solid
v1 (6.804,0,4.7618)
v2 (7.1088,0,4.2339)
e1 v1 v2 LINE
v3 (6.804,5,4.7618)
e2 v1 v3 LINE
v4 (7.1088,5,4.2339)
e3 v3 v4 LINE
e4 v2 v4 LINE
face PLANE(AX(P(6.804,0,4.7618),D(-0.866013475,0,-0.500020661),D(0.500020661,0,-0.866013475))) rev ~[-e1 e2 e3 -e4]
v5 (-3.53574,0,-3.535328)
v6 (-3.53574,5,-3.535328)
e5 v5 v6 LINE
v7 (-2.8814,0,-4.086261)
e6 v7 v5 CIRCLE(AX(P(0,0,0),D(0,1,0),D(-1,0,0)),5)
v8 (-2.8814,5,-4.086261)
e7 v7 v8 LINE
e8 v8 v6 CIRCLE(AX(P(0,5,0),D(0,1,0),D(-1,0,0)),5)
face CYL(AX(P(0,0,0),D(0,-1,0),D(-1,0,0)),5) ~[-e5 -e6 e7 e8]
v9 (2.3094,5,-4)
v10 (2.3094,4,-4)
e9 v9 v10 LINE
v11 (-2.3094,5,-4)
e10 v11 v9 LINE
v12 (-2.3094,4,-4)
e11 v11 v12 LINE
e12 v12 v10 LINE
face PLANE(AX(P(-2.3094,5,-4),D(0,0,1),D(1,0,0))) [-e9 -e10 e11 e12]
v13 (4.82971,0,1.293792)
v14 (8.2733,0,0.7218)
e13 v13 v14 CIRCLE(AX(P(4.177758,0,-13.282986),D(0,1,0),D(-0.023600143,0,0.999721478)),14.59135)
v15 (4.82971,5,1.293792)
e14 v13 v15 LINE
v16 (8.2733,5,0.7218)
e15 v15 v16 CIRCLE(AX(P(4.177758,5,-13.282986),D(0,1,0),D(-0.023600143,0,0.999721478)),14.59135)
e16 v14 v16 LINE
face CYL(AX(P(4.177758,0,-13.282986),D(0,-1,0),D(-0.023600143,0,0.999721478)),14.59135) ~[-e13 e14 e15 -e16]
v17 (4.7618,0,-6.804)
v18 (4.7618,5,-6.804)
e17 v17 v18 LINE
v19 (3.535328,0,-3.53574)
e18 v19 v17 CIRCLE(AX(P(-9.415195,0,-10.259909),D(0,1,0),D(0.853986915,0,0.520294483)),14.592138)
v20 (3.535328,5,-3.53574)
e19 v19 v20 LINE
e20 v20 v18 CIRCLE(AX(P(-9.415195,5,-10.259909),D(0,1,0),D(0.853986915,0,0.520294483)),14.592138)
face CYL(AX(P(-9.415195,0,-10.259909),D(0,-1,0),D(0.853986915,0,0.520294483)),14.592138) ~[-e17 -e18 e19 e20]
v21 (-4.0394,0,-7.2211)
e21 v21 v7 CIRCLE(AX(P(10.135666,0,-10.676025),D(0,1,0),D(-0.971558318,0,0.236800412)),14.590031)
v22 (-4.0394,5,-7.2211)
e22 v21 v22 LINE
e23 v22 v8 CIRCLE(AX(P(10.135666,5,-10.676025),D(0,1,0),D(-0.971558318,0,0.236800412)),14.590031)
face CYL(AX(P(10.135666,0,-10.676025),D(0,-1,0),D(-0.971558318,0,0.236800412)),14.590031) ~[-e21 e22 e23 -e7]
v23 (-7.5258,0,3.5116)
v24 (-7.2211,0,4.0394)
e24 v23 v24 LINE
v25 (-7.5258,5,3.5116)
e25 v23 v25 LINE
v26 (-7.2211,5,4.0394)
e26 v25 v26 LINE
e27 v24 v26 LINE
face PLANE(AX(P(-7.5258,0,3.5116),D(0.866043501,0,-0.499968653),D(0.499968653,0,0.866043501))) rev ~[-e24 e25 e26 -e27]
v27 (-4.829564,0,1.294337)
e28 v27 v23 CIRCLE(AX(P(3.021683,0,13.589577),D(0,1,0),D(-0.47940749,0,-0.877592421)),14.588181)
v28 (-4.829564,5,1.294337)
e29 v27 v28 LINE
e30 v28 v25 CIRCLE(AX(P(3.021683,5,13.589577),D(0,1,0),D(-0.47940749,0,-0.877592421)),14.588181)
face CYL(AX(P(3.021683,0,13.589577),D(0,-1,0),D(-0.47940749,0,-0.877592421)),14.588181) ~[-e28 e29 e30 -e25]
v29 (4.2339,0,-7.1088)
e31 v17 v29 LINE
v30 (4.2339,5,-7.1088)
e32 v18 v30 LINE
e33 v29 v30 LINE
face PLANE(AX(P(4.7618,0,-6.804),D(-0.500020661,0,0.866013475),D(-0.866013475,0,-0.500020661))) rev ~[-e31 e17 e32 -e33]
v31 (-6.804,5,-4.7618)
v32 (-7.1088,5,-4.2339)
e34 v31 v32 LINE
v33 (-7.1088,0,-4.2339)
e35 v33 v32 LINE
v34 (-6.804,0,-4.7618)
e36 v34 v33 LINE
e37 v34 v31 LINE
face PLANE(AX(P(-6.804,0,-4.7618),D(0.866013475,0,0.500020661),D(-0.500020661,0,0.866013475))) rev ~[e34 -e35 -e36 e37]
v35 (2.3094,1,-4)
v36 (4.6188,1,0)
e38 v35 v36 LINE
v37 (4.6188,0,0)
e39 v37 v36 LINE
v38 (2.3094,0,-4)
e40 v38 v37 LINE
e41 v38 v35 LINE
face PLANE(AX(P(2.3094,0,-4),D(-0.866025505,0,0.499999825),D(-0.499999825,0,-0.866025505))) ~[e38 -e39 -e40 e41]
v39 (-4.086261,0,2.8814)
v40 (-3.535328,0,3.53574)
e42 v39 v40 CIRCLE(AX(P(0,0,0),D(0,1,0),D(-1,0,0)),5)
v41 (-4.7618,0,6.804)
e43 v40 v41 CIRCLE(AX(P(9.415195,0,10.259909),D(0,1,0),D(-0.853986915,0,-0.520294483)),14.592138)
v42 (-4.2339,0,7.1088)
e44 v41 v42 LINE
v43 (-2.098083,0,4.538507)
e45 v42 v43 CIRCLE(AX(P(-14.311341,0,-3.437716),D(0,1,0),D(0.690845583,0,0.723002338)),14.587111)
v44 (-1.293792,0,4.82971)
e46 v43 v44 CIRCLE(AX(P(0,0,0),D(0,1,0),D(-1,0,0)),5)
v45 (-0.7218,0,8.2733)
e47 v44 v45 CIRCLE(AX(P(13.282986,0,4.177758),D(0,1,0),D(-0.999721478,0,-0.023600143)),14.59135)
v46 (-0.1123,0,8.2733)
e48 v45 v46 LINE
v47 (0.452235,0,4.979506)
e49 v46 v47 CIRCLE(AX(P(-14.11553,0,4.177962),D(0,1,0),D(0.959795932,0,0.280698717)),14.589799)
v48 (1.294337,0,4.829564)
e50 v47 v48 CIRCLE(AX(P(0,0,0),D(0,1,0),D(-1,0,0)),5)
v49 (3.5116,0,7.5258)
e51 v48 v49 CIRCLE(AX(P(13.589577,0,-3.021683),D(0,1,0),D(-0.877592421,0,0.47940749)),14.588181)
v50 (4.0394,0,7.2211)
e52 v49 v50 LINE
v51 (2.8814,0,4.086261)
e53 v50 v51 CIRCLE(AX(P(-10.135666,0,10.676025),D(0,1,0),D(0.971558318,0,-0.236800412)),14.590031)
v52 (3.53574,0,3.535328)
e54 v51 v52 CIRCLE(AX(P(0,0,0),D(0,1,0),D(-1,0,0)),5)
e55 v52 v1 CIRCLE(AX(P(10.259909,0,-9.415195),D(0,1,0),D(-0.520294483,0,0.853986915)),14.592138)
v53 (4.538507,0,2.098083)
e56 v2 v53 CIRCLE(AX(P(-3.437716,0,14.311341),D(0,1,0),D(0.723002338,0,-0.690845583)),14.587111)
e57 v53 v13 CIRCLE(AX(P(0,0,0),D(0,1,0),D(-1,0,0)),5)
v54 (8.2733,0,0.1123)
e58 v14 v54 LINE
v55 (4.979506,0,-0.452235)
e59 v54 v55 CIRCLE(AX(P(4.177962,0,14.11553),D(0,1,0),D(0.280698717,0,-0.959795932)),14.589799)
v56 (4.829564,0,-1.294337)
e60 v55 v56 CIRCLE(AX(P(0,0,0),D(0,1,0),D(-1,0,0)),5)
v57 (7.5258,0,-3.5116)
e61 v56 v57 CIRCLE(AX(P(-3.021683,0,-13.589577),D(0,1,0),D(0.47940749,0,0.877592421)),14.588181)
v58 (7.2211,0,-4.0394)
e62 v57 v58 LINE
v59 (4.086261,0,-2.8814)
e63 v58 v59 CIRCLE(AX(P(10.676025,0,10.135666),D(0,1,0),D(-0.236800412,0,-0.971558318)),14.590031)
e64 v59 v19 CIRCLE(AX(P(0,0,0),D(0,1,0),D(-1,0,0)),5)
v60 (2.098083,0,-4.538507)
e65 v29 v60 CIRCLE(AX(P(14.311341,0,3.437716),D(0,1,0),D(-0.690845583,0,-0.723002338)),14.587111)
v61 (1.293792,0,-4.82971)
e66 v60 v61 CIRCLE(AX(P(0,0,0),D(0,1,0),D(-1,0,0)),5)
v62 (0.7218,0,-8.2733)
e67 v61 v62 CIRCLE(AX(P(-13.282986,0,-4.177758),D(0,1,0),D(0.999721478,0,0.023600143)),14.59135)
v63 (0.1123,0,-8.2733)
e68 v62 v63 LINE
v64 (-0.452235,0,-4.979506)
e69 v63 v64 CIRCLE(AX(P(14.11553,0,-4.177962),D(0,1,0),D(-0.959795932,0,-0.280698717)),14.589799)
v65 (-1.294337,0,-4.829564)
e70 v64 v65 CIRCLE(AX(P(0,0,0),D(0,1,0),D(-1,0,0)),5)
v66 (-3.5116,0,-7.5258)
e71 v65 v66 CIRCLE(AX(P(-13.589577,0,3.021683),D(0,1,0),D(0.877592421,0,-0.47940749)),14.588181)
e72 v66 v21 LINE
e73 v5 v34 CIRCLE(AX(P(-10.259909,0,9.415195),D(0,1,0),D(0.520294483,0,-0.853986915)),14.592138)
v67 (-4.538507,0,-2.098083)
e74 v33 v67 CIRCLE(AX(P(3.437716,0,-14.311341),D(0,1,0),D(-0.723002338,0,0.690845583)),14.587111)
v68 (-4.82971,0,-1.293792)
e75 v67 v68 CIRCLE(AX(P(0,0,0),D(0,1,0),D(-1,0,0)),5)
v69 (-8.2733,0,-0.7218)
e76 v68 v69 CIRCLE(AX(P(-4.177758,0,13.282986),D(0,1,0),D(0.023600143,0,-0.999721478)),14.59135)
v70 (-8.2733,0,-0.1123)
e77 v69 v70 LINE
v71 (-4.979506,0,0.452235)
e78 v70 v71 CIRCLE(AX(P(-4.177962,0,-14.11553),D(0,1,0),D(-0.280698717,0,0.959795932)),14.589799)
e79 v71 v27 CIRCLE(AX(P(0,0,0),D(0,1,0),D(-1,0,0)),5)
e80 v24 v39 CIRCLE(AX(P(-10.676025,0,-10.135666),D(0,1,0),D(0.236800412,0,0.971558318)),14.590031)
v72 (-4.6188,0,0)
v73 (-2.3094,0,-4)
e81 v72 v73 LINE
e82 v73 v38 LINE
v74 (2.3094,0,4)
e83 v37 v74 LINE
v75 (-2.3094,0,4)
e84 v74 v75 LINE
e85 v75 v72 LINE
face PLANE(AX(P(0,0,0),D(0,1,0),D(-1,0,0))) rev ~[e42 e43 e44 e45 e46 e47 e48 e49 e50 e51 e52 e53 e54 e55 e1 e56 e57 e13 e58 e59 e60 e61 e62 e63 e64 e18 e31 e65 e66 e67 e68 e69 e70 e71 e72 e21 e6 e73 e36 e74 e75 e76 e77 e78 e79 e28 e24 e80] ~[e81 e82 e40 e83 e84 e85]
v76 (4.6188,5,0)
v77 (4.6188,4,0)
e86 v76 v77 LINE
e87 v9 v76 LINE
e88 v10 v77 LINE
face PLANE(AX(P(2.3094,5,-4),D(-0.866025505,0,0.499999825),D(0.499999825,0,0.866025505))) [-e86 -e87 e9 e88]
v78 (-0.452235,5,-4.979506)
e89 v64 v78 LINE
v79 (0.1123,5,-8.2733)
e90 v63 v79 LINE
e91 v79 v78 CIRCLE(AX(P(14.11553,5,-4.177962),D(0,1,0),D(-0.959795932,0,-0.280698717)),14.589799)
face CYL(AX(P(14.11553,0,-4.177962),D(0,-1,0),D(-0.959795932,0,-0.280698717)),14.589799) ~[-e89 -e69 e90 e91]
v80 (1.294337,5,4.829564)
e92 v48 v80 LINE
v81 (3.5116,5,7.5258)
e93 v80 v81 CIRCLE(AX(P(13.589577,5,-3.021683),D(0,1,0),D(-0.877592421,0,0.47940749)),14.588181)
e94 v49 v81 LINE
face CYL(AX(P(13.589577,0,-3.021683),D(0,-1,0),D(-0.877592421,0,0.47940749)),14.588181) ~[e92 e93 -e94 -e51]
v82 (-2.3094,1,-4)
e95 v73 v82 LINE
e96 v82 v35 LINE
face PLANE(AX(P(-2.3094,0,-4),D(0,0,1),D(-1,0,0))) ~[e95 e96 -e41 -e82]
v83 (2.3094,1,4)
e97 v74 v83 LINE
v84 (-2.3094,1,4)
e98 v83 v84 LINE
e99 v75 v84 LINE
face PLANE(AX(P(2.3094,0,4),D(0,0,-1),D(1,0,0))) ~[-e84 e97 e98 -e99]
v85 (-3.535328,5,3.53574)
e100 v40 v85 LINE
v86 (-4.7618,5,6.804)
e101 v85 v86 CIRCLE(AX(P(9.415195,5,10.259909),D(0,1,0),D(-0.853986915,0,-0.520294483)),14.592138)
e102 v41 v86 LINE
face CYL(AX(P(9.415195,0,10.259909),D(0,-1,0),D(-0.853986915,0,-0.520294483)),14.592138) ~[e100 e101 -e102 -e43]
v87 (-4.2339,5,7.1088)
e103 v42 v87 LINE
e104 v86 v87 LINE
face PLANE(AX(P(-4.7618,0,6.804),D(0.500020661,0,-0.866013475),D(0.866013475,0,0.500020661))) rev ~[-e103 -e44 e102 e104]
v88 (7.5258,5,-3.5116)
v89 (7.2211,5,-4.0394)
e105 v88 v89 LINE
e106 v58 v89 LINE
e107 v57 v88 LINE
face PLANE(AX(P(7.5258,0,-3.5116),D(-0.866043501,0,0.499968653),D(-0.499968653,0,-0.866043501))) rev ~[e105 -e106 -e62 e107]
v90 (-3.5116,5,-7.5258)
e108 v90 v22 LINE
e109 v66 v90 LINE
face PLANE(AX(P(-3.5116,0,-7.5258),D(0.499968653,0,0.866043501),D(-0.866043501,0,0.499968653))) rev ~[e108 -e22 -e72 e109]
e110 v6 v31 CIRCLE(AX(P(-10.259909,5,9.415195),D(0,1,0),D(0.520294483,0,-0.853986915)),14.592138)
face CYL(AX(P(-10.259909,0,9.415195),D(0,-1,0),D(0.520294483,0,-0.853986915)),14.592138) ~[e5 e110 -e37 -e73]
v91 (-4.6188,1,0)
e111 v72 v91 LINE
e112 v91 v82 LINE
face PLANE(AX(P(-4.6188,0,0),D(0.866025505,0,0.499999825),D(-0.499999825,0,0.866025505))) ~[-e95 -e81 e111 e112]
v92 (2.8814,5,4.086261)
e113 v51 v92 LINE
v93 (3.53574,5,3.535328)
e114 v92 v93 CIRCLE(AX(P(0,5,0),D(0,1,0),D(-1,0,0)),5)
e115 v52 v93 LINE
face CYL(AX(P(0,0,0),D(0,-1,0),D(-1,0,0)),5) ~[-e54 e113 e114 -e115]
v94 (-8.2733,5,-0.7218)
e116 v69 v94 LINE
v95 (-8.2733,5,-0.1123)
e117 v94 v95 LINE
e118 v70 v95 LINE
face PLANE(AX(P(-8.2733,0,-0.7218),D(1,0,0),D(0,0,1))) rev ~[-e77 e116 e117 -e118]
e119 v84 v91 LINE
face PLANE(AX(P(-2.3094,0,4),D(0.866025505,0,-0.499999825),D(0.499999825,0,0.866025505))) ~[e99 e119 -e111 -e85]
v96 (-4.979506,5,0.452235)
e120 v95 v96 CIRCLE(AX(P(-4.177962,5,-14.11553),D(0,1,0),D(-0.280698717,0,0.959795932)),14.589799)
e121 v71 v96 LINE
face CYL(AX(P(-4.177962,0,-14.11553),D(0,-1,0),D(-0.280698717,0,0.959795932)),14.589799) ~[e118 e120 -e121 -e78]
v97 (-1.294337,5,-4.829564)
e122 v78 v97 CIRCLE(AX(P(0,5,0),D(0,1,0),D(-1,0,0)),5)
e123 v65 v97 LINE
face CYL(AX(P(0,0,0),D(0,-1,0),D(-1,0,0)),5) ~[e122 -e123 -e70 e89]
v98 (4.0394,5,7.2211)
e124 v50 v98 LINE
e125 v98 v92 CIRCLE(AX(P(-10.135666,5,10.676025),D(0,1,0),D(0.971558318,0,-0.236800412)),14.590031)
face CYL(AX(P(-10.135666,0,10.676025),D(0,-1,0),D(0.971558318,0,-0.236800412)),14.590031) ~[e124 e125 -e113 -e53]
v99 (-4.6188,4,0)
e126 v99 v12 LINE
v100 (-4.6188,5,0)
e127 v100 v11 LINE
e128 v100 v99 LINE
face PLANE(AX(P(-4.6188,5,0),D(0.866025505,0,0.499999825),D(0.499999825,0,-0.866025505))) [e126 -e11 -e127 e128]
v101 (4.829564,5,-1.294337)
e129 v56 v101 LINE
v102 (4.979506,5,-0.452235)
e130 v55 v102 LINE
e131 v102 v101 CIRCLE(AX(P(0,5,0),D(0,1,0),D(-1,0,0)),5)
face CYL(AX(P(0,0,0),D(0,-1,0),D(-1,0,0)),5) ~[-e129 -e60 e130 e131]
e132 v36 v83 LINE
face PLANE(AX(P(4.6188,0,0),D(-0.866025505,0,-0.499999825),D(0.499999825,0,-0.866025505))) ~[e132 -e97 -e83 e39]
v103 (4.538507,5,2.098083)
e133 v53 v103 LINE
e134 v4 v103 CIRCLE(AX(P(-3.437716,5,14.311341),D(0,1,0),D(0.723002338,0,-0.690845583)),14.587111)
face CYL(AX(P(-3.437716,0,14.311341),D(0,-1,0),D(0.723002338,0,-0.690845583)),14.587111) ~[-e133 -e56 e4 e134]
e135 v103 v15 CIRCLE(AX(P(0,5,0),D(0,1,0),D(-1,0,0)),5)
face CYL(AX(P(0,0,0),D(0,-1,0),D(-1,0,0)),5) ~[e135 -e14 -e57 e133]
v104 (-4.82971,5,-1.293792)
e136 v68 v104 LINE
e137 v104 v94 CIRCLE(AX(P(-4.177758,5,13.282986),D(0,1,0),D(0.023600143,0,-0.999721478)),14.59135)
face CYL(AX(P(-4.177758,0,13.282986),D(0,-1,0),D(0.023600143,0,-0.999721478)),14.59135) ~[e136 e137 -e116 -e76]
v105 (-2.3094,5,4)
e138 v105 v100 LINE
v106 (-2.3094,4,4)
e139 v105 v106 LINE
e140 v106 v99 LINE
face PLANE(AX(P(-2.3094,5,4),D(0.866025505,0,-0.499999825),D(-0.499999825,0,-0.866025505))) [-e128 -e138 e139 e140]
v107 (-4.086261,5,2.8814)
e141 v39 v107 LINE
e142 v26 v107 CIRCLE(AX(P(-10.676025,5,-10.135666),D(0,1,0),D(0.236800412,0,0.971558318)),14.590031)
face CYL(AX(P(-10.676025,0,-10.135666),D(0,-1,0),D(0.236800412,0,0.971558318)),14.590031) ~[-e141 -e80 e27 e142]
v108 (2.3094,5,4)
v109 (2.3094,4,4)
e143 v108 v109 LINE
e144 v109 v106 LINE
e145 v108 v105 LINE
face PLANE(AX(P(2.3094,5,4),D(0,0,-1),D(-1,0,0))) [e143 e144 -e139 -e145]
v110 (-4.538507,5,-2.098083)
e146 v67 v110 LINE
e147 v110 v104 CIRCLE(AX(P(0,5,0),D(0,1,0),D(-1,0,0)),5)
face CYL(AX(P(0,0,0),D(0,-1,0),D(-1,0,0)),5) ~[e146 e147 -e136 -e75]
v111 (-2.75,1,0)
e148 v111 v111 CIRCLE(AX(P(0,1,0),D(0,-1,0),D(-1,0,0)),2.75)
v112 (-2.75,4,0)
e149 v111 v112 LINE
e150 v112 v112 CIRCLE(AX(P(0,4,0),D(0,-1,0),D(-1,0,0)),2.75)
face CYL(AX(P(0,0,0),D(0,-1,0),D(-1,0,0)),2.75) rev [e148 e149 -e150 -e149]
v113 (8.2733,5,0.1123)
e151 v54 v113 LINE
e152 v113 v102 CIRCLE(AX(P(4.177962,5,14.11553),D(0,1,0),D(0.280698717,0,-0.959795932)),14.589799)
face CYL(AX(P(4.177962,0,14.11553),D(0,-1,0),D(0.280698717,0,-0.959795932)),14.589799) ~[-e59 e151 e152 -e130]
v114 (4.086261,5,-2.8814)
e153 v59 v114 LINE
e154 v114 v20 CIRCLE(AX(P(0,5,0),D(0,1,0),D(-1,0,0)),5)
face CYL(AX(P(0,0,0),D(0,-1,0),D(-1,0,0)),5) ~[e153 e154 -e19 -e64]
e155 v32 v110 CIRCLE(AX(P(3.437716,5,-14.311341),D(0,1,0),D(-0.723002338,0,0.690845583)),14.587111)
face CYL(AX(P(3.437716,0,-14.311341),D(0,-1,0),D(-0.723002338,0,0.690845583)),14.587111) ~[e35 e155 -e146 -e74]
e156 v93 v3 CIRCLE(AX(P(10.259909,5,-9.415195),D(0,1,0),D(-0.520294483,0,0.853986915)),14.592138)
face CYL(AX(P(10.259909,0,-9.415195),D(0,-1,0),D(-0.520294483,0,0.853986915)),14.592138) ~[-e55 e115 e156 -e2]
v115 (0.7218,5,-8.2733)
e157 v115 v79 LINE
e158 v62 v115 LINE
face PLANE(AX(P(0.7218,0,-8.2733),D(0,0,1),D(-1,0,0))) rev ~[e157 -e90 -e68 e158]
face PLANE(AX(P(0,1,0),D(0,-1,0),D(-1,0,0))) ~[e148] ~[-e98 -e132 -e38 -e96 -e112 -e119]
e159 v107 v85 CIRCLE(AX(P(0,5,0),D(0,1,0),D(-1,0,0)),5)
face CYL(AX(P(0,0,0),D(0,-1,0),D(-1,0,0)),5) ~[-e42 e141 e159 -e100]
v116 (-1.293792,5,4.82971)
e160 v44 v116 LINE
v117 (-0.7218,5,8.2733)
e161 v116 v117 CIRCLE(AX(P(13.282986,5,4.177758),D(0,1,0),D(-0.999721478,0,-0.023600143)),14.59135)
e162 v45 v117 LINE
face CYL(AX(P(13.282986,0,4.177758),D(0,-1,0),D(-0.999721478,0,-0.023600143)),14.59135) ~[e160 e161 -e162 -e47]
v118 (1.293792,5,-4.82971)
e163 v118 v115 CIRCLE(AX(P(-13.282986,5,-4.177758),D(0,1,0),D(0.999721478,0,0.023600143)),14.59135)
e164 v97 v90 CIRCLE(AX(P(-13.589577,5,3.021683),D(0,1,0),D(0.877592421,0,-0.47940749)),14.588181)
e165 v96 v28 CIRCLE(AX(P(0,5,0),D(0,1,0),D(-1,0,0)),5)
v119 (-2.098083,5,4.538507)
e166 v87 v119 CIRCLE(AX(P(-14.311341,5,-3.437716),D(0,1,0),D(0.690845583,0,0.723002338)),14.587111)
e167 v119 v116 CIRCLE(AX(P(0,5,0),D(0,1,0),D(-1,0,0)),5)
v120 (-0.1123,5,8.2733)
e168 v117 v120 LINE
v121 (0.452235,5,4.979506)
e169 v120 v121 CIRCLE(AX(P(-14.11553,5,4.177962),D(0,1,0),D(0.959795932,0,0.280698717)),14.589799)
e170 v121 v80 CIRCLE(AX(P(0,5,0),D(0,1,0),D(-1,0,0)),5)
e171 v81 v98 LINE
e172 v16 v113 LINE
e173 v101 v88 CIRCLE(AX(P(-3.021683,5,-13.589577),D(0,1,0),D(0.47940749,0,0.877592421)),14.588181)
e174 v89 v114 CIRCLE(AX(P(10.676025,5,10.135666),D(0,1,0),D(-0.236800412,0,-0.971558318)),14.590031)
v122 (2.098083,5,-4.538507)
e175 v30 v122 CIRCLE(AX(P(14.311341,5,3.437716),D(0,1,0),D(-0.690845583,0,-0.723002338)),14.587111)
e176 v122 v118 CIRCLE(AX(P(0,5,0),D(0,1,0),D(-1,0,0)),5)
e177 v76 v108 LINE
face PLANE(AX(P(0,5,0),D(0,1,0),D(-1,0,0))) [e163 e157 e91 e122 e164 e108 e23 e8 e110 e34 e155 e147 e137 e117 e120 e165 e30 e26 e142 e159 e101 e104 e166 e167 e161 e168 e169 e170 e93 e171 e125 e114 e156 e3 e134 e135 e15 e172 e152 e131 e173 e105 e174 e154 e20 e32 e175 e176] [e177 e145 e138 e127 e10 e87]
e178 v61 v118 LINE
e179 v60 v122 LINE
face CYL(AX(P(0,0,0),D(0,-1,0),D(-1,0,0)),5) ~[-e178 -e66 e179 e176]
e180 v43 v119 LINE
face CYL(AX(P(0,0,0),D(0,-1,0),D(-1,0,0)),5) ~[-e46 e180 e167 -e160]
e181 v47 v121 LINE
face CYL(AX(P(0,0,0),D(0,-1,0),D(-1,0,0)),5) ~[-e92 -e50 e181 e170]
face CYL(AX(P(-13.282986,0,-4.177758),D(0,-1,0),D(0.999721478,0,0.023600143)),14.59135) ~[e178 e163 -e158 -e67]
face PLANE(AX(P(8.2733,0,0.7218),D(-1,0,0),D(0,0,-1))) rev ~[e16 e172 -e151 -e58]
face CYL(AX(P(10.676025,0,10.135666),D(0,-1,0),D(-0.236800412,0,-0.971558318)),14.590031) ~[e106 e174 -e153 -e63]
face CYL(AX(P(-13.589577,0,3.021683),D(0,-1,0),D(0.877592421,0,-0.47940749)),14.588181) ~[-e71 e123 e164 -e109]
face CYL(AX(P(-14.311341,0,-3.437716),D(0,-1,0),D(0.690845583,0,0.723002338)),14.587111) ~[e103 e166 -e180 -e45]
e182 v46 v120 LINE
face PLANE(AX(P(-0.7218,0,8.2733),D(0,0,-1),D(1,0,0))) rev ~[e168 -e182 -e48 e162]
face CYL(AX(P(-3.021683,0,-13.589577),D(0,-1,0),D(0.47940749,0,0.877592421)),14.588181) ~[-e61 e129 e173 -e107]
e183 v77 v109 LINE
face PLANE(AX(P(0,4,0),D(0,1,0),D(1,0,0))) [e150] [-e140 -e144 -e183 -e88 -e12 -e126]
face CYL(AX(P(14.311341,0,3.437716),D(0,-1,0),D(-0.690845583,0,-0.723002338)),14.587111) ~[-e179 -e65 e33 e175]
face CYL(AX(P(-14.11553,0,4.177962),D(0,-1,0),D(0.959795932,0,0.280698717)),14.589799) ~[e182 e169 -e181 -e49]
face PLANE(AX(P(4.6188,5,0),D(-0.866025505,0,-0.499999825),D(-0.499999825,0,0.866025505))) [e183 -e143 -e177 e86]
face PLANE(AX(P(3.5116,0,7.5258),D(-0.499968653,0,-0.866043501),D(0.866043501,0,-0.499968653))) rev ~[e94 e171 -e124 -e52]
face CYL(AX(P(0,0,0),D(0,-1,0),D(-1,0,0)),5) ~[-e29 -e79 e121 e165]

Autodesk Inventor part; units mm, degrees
ref_plane "YZ Plane" through (0, 0, 0) normal (1, 0, 0) x (0, 1, 0)
ref_plane "XZ Plane" through (0, 0, 0) normal (0, 1, 0) x (-1, 0, 0)
ref_plane "XY Plane" through (0, 0, 0) normal (0, 0, 1) x (1, 0, 0)
sketch "Sketch1" plane through (0, 0, 0) normal (0, 1, 0) x (-1, 0, 0)
  circle A0 centre (0, 0) radius 5
  line L0 (5, 0) -> (9.8774, -1.3309) construction
  arc A1 (8.2733, -0.1123) -> (3.8334, 0.4702) centre (4.1778, -14.1163) ccw
  line L1 (9.8774, -1.3309) -> (5, 0) construction
  arc A2 (3.8334, -1.3043) -> (8.2733, -0.7218) centre (4.1778, 13.2822) ccw
  line L2 (3.8879, -2.2603) -> (3.8879, -0.5721)
  line L3 (3.8879, -0.262) -> (3.8879, 1.4262)
  line L4 (0.1623, -0.03) -> (0.1623, 0.0204)
  circle A3 centre (0, 0) radius 2.75
  line L5 (8.2733, -0.7218) -> (8.2733, -0.1123)
  arc A4 (3.972, 0.7871) -> (7.5258, 3.5116) centre (-3.023, 13.5916) ccw
  line L6 (7.5258, 3.5116) -> (7.2211, 4.0394)
  arc A5 (7.2211, 4.0394) -> (3.0847, 2.3239) centre (10.6762, -10.1362) ccw
  arc A6 (3.0463, 2.6677) -> (4.7618, 6.804) centre (-9.4138, 10.2592) ccw
  line L7 (4.7618, 6.804) -> (4.2339, 7.1088)
  arc A7 (4.2339, 7.1088) -> (1.5095, 3.5549) centre (14.314, -3.4401) ccw
  arc A8 (1.3043, 3.8334) -> (0.7218, 8.2733) centre (-13.2822, 4.1778) ccw
  line L8 (0.7218, 8.2733) -> (0.1123, 8.2733)
  arc A9 (0.1123, 8.2733) -> (-0.4702, 3.8334) centre (14.1163, 4.1778) ccw
  arc A10 (-0.7871, 3.972) -> (-3.5116, 7.5258) centre (-13.5916, -3.023) ccw
  line L9 (-3.5116, 7.5258) -> (-4.0394, 7.2211)
  arc A11 (-4.0394, 7.2211) -> (-2.3239, 3.0847) centre (10.1362, 10.6762) ccw
  arc A12 (-2.6677, 3.0463) -> (-6.804, 4.7618) centre (-10.2592, -9.4138) ccw
  line L10 (-6.804, 4.7618) -> (-7.1088, 4.2339)
  arc A13 (-7.1088, 4.2339) -> (-3.5549, 1.5095) centre (3.4401, 14.314) ccw
  arc A14 (-3.8334, 1.3043) -> (-8.2733, 0.7218) centre (-4.1778, -13.2822) ccw
  line L11 (-8.2733, 0.7218) -> (-8.2733, 0.1123)
  arc A15 (-8.2733, 0.1123) -> (-3.8334, -0.4702) centre (-4.1778, 14.1163) ccw
  arc A16 (-3.972, -0.7871) -> (-7.5258, -3.5116) centre (3.023, -13.5916) ccw
  line L12 (-7.5258, -3.5116) -> (-7.2211, -4.0394)
  arc A17 (-7.2211, -4.0394) -> (-3.0847, -2.3239) centre (-10.6762, 10.1362) ccw
  arc A18 (-3.0463, -2.6677) -> (-4.7618, -6.804) centre (9.4138, -10.2592) ccw
  line L13 (-4.7618, -6.804) -> (-4.2339, -7.1088)
  arc A19 (-4.2339, -7.1088) -> (-1.5095, -3.5549) centre (-14.314, 3.4401) ccw
  arc A20 (-1.3043, -3.8334) -> (-0.7218, -8.2733) centre (13.2822, -4.1778) ccw
  line L14 (-0.7218, -8.2733) -> (-0.1123, -8.2733)
  arc A21 (-0.1123, -8.2733) -> (0.4702, -3.8334) centre (-14.1163, -4.1778) ccw
  arc A22 (0.7871, -3.972) -> (3.5116, -7.5258) centre (13.5916, 3.023) ccw
  line L15 (3.5116, -7.5258) -> (4.0394, -7.2211)
  arc A23 (4.0394, -7.2211) -> (2.3239, -3.0847) centre (-10.1362, -10.6762) ccw
  arc A24 (2.6677, -3.0463) -> (6.804, -4.7618) centre (10.2592, 9.4138) ccw
  line L16 (6.804, -4.7618) -> (7.1088, -4.2339)
  arc A25 (7.1088, -4.2339) -> (3.5549, -1.5095) centre (-3.4401, -14.314) ccw
  point P0 (4.8297, -1.2938)
  point P1 (4.9795, 0.4523)
  point P2 (4.0863, 2.8814)
  point P3 (4.8296, 1.2944)
  point P4 (2.0981, 4.5385)
  point P5 (3.5353, 3.5357)
  point P6 (-0.4523, 4.9795)
  point P7 (1.2938, 4.8297)
  point P8 (-2.8814, 4.0863)
  point P9 (-1.2944, 4.8296)
  point P10 (-4.5385, 2.0981)
  point P11 (-3.5357, 3.5353)
  point P12 (-4.9795, -0.4523)
  point P13 (-4.8297, 1.2938)
  point P14 (-4.0863, -2.8814)
  point P15 (-4.8296, -1.2944)
  point P16 (-2.0981, -4.5385)
  point P17 (-3.5353, -3.5357)
  point P18 (0.4523, -4.9795)
  point P19 (-1.2938, -4.8297)
  point P20 (2.8814, -4.0863)
  point P21 (1.2944, -4.8296)
  point P22 (4.5385, -2.0981)
  point P23 (3.5357, -3.5353)
  dimension "d0" = 10
  dimension "d5" = 5.5
  dimension "d14" = 360
extrude "Extrusion1" add sketch "Sketch1" along normal blind 5
sketch "Sketch2" plane through (0, 5, 0) normal (0, 1, 0) x (1, 0, 0)
  line L0 (-2.3094, 4) -> (2.3094, 4)
  line L1 (2.3094, 4) -> (4.6188, 0)
  line L2 (4.6188, 0) -> (2.3094, -4)
  line L3 (2.3094, -4) -> (-2.3094, -4)
  line L4 (-2.3094, -4) -> (-4.6188, 0)
  line L5 (-4.6188, 0) -> (-2.3094, 4)
  line L6 (0, 0) -> (-6.3613, 0)
  dimension "d8" = 8
extrude "Extrusion2" cut sketch "Sketch2" against normal blind 1
ref_plane "Work Plane1" through (0, 2.5, 0) normal (0, 1, 0) x (1, 0, 0)
mirror "Mirror1" about plane through (0, 2.5, 0) normal (0, 1, 0) of "Extrusion2"
properties part number "JointFixeSmallr"
